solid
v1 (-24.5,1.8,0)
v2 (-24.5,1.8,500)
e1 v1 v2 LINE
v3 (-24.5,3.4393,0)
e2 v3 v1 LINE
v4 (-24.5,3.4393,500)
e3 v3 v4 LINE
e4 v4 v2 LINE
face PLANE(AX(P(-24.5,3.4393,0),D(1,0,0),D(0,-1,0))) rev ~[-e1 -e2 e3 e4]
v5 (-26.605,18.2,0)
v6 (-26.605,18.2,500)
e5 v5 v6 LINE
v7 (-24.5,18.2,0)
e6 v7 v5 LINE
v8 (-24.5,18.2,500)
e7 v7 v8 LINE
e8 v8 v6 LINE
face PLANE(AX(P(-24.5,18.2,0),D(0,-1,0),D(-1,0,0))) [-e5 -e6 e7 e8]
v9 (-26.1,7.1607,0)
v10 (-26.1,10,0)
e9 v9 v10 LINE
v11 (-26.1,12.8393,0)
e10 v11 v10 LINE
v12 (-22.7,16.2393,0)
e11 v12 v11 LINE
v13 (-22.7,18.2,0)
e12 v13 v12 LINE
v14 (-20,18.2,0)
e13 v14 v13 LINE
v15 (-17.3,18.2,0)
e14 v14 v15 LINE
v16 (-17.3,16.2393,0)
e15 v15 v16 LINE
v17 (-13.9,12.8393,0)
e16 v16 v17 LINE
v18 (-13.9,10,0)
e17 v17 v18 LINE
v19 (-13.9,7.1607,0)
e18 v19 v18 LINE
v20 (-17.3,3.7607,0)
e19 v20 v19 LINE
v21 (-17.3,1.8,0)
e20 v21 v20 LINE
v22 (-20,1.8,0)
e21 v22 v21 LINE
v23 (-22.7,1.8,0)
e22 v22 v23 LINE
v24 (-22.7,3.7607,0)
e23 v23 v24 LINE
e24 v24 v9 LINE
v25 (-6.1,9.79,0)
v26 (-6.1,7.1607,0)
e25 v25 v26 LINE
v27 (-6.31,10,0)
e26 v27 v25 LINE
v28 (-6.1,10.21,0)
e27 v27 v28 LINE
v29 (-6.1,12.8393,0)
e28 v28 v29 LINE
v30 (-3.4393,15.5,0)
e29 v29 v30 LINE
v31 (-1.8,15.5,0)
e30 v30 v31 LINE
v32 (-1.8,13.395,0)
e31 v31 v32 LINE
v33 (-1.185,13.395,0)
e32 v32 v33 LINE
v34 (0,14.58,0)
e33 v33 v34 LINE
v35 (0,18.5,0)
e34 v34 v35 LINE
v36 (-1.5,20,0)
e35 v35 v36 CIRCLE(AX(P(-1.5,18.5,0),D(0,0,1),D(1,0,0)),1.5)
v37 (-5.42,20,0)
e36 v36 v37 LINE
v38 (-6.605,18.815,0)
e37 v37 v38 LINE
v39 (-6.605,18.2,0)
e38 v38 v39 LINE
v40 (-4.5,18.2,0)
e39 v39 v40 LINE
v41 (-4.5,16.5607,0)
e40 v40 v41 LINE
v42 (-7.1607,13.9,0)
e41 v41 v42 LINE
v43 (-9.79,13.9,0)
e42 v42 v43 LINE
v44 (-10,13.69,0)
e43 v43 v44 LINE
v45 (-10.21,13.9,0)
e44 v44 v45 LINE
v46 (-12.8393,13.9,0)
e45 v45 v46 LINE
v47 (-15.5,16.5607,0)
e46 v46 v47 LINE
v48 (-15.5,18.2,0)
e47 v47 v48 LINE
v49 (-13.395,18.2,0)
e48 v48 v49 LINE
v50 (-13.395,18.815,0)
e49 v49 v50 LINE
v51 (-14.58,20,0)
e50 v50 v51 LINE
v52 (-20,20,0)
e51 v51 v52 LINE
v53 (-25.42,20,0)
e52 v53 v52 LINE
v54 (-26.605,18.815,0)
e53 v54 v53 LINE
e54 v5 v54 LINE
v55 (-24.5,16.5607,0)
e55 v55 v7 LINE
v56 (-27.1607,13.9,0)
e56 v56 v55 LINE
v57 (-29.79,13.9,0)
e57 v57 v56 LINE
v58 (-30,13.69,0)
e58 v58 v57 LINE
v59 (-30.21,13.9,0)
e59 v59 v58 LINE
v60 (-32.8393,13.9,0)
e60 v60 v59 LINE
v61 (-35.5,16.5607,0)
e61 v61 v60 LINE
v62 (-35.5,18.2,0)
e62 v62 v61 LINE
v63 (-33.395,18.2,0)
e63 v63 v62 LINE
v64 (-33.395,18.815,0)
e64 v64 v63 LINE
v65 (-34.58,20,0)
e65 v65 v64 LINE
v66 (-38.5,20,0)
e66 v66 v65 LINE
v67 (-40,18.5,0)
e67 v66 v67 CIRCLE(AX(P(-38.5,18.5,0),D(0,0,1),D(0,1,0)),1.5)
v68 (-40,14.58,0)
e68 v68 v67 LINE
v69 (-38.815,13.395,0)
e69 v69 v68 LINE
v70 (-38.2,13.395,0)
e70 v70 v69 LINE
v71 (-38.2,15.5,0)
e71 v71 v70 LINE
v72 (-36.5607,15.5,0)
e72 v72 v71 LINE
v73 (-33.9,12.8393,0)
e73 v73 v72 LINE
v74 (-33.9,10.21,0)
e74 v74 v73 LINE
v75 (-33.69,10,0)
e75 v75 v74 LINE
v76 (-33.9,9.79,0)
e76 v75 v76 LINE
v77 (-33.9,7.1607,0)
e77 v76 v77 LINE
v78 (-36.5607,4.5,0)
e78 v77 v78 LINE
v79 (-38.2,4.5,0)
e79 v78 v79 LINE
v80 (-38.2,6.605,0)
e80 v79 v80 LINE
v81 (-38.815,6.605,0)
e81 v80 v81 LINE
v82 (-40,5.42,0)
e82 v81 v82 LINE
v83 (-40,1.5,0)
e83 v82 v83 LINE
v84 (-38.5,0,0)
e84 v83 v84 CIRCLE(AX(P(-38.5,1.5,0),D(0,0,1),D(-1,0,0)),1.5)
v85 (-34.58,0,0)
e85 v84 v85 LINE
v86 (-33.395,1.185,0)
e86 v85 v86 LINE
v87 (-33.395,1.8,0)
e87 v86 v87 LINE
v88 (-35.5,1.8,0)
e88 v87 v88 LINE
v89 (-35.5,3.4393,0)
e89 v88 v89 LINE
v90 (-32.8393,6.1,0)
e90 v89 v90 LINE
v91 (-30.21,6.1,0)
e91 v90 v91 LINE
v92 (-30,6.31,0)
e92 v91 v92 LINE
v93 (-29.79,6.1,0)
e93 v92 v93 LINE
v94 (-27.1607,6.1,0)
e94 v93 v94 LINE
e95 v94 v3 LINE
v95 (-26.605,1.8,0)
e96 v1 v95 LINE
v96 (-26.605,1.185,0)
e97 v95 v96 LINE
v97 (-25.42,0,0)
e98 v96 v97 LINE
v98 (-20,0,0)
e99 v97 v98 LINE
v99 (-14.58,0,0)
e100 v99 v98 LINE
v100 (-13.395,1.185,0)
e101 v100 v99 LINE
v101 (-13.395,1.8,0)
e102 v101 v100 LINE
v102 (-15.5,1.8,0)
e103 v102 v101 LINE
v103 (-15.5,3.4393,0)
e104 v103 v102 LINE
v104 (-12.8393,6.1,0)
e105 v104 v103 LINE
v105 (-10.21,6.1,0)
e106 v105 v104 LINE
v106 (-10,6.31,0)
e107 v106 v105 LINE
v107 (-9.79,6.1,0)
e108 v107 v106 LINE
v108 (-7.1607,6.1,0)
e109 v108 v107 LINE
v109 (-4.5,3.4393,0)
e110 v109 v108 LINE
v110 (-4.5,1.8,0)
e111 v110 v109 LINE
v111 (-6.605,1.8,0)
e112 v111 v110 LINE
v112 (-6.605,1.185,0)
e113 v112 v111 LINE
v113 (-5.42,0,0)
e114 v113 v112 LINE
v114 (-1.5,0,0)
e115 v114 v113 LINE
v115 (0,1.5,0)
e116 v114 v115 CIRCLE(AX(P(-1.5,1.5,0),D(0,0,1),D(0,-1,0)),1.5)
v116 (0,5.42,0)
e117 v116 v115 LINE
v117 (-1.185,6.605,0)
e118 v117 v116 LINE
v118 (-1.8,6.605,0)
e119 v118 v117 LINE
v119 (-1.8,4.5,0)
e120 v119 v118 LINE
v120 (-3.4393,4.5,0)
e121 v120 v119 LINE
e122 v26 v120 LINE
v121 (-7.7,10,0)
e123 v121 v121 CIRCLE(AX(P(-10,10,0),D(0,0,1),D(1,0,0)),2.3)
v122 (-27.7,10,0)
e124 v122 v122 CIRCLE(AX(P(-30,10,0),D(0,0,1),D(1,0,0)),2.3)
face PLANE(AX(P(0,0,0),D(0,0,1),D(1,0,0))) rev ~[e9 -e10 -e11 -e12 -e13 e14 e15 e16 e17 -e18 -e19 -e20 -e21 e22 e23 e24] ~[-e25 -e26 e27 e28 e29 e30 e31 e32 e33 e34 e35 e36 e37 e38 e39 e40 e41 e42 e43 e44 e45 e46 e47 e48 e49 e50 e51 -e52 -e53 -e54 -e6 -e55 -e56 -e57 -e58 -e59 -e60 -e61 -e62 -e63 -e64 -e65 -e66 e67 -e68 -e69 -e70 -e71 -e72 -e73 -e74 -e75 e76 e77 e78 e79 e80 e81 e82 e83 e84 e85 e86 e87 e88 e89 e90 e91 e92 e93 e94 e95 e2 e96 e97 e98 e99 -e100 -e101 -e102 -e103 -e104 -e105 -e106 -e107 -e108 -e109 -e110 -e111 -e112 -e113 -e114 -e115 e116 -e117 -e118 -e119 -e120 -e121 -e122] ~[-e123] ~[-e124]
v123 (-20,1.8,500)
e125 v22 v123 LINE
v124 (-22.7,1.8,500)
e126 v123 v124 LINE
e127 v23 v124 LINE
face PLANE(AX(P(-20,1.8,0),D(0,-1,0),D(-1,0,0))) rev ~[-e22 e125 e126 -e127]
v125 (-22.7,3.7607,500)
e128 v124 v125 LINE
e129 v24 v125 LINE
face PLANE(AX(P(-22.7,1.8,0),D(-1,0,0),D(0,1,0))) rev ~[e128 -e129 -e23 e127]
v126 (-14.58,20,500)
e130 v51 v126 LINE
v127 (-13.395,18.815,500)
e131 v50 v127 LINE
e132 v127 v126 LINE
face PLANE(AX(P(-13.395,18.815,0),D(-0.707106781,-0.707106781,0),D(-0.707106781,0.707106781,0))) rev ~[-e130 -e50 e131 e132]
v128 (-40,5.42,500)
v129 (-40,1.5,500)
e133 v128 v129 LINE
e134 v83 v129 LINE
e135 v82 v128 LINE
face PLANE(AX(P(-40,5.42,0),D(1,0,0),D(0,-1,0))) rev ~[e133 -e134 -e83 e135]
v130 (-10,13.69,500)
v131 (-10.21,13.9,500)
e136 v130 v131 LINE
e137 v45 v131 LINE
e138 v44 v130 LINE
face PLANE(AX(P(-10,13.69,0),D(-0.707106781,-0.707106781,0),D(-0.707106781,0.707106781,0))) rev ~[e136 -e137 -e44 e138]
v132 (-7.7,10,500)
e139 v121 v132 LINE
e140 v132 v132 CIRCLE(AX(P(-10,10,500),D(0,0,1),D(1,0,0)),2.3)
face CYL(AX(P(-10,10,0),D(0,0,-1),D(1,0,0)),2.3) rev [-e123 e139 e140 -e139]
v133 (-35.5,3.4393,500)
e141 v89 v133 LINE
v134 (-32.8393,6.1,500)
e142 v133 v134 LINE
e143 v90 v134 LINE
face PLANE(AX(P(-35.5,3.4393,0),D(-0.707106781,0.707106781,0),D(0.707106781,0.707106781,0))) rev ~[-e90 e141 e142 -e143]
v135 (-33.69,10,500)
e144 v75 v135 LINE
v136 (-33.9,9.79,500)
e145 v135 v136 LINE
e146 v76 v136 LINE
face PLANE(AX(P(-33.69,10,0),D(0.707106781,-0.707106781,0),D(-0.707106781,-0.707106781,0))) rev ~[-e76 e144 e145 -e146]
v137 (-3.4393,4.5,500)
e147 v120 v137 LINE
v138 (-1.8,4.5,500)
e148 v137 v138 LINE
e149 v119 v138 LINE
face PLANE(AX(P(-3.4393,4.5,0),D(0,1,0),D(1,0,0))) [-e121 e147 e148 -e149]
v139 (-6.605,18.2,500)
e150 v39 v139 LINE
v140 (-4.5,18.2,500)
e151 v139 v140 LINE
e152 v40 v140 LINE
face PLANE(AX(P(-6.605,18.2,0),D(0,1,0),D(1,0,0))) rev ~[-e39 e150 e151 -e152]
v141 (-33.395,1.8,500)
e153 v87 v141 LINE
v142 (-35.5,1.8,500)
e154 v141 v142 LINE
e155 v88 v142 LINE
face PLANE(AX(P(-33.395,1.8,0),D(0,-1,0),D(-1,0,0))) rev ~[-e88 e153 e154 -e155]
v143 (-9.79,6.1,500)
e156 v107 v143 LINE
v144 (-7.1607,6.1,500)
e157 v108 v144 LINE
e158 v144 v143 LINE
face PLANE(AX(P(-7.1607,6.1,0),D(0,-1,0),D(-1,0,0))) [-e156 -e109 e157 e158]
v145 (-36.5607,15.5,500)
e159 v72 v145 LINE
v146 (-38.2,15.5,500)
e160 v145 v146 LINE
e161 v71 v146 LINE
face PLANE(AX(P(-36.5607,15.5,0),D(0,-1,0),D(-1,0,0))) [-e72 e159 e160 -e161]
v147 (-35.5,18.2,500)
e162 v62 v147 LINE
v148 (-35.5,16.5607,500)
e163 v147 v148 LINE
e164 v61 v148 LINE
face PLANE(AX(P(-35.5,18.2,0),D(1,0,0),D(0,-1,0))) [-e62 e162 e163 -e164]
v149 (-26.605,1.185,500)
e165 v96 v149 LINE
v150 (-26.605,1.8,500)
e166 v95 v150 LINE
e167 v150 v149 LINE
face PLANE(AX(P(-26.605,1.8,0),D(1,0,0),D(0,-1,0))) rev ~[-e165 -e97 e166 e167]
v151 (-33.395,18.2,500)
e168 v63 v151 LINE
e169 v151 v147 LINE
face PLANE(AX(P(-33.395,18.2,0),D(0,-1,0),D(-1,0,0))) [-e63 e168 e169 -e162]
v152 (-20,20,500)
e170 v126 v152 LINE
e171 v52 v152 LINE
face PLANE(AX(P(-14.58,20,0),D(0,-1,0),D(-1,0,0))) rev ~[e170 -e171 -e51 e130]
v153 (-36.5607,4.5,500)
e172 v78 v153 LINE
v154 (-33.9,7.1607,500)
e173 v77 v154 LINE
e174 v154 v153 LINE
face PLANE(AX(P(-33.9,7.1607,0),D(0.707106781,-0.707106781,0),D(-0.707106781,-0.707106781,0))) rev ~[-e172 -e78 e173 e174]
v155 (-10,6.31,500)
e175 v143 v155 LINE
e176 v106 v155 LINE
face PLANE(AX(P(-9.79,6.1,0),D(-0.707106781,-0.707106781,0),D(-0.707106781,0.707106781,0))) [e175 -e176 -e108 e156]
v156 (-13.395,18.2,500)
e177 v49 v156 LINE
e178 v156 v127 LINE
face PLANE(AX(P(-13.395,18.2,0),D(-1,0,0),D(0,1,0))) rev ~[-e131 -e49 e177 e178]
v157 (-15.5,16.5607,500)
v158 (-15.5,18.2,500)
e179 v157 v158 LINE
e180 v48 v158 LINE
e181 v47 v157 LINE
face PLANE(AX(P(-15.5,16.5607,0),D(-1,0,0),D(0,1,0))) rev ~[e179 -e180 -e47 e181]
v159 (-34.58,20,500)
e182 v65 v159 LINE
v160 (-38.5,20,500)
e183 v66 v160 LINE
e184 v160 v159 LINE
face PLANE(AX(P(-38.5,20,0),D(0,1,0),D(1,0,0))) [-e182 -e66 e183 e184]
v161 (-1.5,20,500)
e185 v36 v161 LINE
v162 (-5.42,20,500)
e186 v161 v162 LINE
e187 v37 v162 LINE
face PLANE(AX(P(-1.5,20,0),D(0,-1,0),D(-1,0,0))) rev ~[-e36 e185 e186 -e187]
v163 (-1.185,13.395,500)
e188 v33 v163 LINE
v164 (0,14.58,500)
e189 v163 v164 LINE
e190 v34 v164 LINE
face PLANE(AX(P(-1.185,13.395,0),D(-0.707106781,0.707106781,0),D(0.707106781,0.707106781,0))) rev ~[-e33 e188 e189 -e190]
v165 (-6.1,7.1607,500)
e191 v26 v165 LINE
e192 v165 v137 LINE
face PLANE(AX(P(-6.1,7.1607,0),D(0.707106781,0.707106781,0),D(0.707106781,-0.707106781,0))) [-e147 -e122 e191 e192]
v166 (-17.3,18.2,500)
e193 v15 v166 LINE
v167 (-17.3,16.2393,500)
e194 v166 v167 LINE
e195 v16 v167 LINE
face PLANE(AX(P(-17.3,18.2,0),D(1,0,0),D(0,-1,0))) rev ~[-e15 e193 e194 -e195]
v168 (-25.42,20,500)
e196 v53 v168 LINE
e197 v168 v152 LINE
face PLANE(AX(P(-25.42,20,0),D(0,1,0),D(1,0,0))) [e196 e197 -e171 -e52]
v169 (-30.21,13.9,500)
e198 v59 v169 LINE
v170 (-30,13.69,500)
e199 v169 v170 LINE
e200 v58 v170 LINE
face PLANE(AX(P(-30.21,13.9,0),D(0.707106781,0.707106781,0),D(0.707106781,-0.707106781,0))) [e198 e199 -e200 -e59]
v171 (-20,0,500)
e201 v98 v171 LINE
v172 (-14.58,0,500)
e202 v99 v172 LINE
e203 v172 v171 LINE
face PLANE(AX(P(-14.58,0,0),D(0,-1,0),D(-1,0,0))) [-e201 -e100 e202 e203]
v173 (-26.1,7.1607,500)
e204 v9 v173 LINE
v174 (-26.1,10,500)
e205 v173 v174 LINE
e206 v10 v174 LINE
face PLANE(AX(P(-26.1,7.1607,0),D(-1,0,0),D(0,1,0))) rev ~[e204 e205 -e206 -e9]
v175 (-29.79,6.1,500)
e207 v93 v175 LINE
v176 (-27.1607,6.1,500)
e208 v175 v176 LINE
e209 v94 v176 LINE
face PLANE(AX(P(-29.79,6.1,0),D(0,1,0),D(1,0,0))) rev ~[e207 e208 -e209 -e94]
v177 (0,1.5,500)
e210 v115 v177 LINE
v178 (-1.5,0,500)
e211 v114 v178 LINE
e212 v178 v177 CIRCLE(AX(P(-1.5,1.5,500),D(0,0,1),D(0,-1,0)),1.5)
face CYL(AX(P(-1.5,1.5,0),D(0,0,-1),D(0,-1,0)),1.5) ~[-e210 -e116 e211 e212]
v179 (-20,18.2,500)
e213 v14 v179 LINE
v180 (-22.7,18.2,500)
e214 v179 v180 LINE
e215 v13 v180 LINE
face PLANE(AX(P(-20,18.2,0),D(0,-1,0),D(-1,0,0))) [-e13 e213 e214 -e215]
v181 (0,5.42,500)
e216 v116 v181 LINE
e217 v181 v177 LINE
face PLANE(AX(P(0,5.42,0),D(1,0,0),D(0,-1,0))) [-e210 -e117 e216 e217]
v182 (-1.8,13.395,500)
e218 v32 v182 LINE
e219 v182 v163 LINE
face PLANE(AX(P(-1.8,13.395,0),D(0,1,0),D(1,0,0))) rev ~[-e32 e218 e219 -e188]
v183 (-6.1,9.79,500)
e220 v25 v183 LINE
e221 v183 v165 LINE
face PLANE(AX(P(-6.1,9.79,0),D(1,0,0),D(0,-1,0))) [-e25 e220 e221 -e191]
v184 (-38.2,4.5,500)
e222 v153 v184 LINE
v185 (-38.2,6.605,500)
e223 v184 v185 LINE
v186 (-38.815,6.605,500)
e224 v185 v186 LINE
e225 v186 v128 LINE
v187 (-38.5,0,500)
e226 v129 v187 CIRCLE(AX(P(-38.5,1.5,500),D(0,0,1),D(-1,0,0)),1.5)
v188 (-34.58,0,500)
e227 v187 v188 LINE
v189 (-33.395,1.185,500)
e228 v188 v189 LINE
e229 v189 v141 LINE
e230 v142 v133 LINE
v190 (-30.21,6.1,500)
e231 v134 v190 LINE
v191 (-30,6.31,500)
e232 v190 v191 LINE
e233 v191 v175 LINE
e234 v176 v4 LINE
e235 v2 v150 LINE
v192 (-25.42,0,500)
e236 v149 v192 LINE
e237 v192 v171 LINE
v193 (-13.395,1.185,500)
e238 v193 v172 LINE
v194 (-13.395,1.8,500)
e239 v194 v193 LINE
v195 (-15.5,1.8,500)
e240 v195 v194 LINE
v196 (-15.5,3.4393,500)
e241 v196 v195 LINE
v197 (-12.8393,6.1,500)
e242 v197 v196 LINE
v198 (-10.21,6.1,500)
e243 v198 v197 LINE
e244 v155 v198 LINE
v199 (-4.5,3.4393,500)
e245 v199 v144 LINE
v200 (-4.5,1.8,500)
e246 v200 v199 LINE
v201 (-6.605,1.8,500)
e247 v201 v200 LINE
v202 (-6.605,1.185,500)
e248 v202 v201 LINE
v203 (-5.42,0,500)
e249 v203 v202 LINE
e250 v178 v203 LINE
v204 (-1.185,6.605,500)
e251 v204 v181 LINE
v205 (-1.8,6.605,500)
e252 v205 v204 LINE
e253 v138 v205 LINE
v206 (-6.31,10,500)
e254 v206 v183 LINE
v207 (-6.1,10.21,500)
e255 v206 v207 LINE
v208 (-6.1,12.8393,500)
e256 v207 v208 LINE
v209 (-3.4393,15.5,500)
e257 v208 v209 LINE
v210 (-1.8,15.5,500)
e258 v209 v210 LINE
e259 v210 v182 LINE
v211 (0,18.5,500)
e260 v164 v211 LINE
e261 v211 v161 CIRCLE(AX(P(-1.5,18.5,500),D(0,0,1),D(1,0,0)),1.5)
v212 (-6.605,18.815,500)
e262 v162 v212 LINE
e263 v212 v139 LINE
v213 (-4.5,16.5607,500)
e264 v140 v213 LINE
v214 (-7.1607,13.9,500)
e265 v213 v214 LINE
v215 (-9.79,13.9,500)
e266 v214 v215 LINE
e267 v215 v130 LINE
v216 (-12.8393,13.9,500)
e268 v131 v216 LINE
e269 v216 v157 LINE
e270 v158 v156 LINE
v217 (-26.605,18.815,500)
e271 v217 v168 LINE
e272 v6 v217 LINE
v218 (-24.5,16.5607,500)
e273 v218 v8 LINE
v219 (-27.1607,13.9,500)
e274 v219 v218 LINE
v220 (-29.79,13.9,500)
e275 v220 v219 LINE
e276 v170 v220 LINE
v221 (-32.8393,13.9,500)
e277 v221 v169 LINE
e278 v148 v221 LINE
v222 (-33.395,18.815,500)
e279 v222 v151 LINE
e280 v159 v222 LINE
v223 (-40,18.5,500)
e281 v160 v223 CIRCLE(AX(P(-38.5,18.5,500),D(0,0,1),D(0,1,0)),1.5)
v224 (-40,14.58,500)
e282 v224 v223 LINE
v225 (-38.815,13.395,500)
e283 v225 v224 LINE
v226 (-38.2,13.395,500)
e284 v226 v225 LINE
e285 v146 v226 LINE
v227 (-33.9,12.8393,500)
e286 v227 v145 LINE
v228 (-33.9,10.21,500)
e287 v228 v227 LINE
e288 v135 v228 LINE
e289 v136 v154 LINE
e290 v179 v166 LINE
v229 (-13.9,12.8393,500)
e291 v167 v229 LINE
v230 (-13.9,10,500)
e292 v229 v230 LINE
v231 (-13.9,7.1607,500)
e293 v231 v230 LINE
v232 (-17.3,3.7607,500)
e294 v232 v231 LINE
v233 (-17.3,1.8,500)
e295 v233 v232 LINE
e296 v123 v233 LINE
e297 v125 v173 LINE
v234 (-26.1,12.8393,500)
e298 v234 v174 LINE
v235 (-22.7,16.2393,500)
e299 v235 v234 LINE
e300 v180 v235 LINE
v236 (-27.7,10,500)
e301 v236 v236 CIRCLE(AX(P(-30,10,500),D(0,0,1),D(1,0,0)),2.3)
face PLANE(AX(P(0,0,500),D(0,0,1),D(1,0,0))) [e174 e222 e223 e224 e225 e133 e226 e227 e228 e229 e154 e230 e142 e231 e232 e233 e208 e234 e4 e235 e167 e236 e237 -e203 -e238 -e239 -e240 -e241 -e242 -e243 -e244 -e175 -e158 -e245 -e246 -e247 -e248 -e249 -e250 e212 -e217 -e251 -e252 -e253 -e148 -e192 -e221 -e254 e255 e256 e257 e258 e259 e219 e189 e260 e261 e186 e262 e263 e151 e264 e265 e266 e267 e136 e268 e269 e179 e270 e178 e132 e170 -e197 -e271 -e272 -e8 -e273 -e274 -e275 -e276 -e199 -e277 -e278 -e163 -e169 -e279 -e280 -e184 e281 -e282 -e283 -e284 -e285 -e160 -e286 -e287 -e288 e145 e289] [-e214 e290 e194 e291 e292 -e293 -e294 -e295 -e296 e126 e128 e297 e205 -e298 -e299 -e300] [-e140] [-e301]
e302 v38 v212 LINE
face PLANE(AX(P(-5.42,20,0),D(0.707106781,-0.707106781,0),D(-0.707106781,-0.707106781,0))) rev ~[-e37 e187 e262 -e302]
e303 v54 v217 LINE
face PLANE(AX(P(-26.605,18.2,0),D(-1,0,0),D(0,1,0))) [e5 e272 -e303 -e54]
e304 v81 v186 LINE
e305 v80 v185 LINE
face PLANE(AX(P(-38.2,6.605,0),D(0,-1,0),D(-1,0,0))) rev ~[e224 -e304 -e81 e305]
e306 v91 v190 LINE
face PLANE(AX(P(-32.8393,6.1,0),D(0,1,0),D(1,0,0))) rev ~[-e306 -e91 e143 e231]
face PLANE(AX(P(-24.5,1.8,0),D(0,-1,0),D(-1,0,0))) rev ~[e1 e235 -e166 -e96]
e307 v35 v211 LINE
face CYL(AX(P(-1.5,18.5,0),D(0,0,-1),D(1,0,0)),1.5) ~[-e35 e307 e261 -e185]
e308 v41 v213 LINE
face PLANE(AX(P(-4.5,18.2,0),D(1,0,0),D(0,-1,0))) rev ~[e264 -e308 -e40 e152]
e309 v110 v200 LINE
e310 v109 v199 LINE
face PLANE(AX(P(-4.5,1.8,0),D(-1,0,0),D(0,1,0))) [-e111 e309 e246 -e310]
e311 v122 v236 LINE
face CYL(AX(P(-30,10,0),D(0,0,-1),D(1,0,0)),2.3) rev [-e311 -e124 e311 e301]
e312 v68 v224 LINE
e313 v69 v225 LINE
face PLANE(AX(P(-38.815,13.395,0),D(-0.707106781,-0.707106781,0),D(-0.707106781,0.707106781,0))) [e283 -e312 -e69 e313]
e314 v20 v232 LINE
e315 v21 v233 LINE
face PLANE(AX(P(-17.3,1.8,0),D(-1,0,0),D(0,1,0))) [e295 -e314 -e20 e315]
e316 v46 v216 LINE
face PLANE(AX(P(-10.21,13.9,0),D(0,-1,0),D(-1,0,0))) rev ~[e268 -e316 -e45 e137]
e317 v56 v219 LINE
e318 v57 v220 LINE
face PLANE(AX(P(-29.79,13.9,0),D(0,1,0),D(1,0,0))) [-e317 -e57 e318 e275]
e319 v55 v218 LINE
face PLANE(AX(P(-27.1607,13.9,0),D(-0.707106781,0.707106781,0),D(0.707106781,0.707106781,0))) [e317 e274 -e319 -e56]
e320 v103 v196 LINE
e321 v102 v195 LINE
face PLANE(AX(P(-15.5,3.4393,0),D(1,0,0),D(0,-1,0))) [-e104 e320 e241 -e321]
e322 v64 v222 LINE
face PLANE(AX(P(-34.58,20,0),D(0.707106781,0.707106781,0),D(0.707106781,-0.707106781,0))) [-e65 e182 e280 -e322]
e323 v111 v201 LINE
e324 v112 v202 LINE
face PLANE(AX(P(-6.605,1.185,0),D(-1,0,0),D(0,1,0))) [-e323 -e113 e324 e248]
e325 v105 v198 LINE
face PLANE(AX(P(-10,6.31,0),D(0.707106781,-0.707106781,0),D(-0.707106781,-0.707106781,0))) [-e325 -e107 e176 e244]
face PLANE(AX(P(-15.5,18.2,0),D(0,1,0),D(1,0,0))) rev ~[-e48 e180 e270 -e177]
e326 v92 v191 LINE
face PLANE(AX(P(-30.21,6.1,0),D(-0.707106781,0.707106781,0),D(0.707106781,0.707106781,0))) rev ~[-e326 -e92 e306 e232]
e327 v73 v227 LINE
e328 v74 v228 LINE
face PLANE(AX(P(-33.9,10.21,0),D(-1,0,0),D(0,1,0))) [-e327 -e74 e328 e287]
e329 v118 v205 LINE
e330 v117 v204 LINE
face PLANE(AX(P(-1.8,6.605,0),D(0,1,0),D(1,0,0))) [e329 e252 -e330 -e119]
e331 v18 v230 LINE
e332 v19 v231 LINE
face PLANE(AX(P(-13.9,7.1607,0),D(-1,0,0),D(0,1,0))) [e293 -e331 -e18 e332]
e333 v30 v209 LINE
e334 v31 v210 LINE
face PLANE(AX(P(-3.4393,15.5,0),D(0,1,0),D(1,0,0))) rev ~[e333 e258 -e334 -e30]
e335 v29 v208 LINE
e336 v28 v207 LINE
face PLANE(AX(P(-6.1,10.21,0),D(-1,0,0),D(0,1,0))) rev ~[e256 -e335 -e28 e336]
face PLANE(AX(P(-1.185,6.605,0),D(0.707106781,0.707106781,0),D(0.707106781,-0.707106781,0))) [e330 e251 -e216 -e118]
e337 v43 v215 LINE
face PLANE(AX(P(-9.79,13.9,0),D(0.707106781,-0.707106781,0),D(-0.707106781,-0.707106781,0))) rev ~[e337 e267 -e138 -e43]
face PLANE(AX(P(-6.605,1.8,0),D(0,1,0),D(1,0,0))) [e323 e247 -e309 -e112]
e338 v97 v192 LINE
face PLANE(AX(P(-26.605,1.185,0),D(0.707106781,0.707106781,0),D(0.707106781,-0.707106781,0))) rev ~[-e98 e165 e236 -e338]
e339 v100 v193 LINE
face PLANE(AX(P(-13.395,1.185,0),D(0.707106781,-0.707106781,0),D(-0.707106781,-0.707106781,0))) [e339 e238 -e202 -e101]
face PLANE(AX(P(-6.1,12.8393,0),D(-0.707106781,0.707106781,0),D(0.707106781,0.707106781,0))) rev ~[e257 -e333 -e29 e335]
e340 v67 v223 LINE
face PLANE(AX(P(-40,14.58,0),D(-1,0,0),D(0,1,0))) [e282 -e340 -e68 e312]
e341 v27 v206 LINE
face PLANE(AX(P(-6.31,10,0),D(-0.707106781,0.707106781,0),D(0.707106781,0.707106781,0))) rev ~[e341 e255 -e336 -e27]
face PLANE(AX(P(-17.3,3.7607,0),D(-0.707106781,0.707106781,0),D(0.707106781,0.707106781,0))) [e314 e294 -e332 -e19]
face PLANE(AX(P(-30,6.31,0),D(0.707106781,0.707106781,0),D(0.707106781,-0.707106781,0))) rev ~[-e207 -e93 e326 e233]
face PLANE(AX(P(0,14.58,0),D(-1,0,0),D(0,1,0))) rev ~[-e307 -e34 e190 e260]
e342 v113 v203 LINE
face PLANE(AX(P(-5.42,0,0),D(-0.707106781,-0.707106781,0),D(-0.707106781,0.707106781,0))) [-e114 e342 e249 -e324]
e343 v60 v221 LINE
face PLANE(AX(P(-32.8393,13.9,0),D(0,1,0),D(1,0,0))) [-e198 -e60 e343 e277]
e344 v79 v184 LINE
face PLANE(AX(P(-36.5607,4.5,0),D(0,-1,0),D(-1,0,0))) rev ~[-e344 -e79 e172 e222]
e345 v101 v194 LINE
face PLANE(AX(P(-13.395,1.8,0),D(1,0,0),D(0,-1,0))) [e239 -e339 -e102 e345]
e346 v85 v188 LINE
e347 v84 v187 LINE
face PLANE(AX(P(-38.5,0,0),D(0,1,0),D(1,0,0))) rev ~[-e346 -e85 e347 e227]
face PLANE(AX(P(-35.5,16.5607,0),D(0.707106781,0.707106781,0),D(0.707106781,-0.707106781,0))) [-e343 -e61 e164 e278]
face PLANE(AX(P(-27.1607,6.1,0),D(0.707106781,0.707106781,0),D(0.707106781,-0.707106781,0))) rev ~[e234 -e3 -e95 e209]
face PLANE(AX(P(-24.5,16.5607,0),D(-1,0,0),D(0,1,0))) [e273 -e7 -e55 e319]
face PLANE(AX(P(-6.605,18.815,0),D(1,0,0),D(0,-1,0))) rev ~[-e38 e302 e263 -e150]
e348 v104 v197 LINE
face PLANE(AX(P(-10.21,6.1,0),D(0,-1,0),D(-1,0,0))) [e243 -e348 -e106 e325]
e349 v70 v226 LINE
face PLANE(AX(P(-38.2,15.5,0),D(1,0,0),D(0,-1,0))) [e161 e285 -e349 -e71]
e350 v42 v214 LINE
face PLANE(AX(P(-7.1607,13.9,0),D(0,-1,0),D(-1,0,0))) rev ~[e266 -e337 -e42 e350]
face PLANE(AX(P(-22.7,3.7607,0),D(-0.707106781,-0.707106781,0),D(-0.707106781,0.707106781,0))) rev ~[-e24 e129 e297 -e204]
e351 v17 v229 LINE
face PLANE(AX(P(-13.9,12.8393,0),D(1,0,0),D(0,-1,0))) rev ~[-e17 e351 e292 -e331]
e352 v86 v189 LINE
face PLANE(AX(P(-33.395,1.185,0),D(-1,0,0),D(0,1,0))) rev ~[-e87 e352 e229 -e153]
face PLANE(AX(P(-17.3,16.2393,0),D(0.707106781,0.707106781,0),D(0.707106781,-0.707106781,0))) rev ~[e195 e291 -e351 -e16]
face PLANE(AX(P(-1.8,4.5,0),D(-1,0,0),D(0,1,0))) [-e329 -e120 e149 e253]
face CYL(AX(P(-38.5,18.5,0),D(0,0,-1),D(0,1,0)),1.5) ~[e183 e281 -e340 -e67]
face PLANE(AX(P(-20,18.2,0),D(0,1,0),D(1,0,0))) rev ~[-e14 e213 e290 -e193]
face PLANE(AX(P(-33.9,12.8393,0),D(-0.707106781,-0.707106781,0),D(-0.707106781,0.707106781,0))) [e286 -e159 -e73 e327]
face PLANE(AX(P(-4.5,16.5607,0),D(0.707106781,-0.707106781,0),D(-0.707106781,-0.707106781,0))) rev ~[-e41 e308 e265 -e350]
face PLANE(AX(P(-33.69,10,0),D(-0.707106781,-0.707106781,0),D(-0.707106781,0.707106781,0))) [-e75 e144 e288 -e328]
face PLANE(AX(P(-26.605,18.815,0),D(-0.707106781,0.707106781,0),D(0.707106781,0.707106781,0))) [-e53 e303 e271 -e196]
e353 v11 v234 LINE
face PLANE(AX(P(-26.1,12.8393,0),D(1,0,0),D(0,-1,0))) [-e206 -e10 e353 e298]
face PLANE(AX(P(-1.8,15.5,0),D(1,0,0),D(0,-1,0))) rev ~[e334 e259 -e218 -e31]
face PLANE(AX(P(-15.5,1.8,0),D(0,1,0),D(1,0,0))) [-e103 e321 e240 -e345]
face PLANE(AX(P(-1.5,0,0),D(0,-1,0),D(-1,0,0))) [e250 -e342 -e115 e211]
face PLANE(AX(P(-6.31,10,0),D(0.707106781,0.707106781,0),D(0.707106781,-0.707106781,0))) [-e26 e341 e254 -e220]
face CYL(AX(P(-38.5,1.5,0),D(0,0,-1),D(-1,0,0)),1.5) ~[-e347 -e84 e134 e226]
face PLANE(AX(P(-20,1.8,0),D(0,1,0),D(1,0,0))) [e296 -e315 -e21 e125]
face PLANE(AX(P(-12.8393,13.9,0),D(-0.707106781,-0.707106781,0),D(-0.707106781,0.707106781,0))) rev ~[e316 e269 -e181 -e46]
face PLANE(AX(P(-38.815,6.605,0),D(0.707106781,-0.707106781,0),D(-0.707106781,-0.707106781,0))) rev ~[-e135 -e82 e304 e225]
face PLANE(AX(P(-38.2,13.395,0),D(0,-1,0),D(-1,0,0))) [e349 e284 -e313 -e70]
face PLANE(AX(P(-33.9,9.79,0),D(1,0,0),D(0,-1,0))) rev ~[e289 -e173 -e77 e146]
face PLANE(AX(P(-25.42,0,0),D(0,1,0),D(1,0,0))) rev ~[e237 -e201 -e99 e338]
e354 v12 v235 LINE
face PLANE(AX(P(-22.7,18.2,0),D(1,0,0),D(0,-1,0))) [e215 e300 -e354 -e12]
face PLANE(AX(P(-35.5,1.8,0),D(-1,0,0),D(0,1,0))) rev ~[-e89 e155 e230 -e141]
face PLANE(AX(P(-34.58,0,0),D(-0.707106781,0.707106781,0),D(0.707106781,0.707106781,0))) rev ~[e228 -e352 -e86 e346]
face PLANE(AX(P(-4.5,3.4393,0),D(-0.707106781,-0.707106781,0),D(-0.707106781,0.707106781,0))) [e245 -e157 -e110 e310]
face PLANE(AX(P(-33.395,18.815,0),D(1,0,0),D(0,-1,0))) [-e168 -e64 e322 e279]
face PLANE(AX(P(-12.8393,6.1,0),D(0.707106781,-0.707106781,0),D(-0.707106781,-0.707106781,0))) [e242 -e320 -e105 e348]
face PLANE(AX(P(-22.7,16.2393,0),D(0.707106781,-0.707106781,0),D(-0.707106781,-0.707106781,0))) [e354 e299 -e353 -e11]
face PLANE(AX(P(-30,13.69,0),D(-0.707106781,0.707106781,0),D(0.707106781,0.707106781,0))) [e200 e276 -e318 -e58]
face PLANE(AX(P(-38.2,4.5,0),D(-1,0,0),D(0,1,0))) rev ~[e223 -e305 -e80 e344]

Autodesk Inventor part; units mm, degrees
ref_plane "YZ Plane" through (0, 0, 0) normal (1, 0, 0) x (0, 1, 0)
ref_plane "XZ Plane" through (0, 0, 0) normal (0, 1, 0) x (-1, 0, 0)
ref_plane "XY Plane" through (0, 0, 0) normal (0, 0, 1) x (1, 0, 0)
sketch "Sketch1" plane through (0, 0, 0) normal (0, 0, 1) x (1, 0, 0)
  line L0 (-33.69, 10) -> (-33.9, 10.21)
  line L1 (-33.9, 10.21) -> (-33.9, 12.8393)
  line L2 (-33.9, 12.8393) -> (-36.5607, 15.5)
  line L3 (-36.5607, 15.5) -> (-38.2, 15.5)
  line L4 (-38.2, 15.5) -> (-38.2, 13.395)
  line L5 (-38.2, 13.395) -> (-38.815, 13.395)
  line L6 (-38.815, 13.395) -> (-40, 14.58)
  line L7 (-40, 14.58) -> (-40, 18.5)
  arc A0 (-38.5, 20) -> (-40, 18.5) centre (-38.5, 18.5) ccw
  line L8 (-38.5, 20) -> (-34.58, 20)
  line L9 (-34.58, 20) -> (-33.395, 18.815)
  line L10 (-33.395, 18.815) -> (-33.395, 18.2)
  line L11 (-33.395, 18.2) -> (-35.5, 18.2)
  line L12 (-35.5, 18.2) -> (-35.5, 16.5607)
  line L13 (-35.5, 16.5607) -> (-32.8393, 13.9)
  line L14 (-32.8393, 13.9) -> (-30.21, 13.9)
  line L15 (-30.21, 13.9) -> (-30, 13.69)
  line L16 (-30, 13.69) -> (-29.79, 13.9)
  line L17 (-29.79, 13.9) -> (-27.1607, 13.9)
  line L18 (-27.1607, 13.9) -> (-24.5, 16.5607)
  line L19 (-24.5, 16.5607) -> (-24.5, 18.2)
  line L20 (-24.5, 18.2) -> (-26.605, 18.2)
  line L21 (-26.605, 18.2) -> (-26.605, 18.815)
  line L22 (-26.605, 18.815) -> (-25.42, 20)
  line L23 (-25.42, 20) -> (-20, 20)
  line L24 (-20, 18.2) -> (-22.7, 18.2)
  line L25 (-22.7, 18.2) -> (-22.7, 16.2393)
  line L26 (-22.7, 16.2393) -> (-26.1, 12.8393)
  line L27 (-26.1, 12.8393) -> (-26.1, 10)
  circle A1 centre (-30, 10) radius 2.3
  line L28 (-24.5, 1.8) -> (-26.605, 1.8)
  line L29 (-24.5, 3.4393) -> (-24.5, 1.8)
  line L30 (-22.7, 3.7607) -> (-26.1, 7.1607)
  line L31 (-22.7, 1.8) -> (-22.7, 3.7607)
  line L32 (-29.79, 6.1) -> (-27.1607, 6.1)
  line L33 (-30, 6.31) -> (-29.79, 6.1)
  line L34 (-30.21, 6.1) -> (-30, 6.31)
  line L35 (-32.8393, 6.1) -> (-30.21, 6.1)
  line L36 (-33.9, 9.79) -> (-33.9, 7.1607)
  line L37 (-33.69, 10) -> (-33.9, 9.79)
  line L38 (-26.1, 7.1607) -> (-26.1, 10)
  line L39 (-27.1607, 6.1) -> (-24.5, 3.4393)
  line L40 (-33.395, 1.185) -> (-33.395, 1.8)
  line L41 (-35.5, 3.4393) -> (-32.8393, 6.1)
  line L42 (-33.395, 1.8) -> (-35.5, 1.8)
  line L43 (-35.5, 1.8) -> (-35.5, 3.4393)
  line L44 (-34.58, 0) -> (-33.395, 1.185)
  line L45 (-33.9, 7.1607) -> (-36.5607, 4.5)
  line L46 (-36.5607, 4.5) -> (-38.2, 4.5)
  line L47 (-38.2, 4.5) -> (-38.2, 6.605)
  line L48 (-38.2, 6.605) -> (-38.815, 6.605)
  line L49 (-38.815, 6.605) -> (-40, 5.42)
  line L50 (-38.5, 0) -> (-34.58, 0)
  arc A2 (-40, 1.5) -> (-38.5, 0) centre (-38.5, 1.5) ccw
  line L51 (-40, 5.42) -> (-40, 1.5)
  line L52 (-26.605, 1.8) -> (-26.605, 1.185)
  line L53 (-20, 1.8) -> (-22.7, 1.8)
  line L54 (-25.42, 0) -> (-20, 0)
  line L55 (-26.605, 1.185) -> (-25.42, 0)
  line L56 (-15.5, 18.2) -> (-13.395, 18.2)
  line L57 (-15.5, 16.5607) -> (-15.5, 18.2)
  line L58 (-17.3, 16.2393) -> (-13.9, 12.8393)
  line L59 (-17.3, 18.2) -> (-17.3, 16.2393)
  line L60 (-10.21, 13.9) -> (-12.8393, 13.9)
  line L61 (-10, 13.69) -> (-10.21, 13.9)
  line L62 (-9.79, 13.9) -> (-10, 13.69)
  line L63 (-7.1607, 13.9) -> (-9.79, 13.9)
  line L64 (-6.1, 10.21) -> (-6.1, 12.8393)
  line L65 (-6.31, 10) -> (-6.1, 10.21)
  line L66 (-13.9, 12.8393) -> (-13.9, 10)
  circle A3 centre (-10, 10) radius 2.3
  line L67 (-12.8393, 13.9) -> (-15.5, 16.5607)
  line L68 (-6.605, 18.815) -> (-6.605, 18.2)
  line L69 (-4.5, 16.5607) -> (-7.1607, 13.9)
  line L70 (-6.605, 18.2) -> (-4.5, 18.2)
  line L71 (-4.5, 18.2) -> (-4.5, 16.5607)
  line L72 (-5.42, 20) -> (-6.605, 18.815)
  line L73 (-6.1, 12.8393) -> (-3.4393, 15.5)
  line L74 (-3.4393, 15.5) -> (-1.8, 15.5)
  line L75 (-1.8, 15.5) -> (-1.8, 13.395)
  line L76 (-1.8, 13.395) -> (-1.185, 13.395)
  line L77 (-1.185, 13.395) -> (0, 14.58)
  line L78 (-1.5, 20) -> (-5.42, 20)
  arc A4 (0, 18.5) -> (-1.5, 20) centre (-1.5, 18.5) ccw
  line L79 (0, 14.58) -> (0, 18.5)
  line L80 (-13.395, 18.2) -> (-13.395, 18.815)
  line L81 (-20, 18.2) -> (-17.3, 18.2)
  line L82 (-14.58, 20) -> (-20, 20)
  line L83 (-13.395, 18.815) -> (-14.58, 20)
  line L84 (-15.5, 1.8) -> (-13.395, 1.8)
  line L85 (-15.5, 3.4393) -> (-15.5, 1.8)
  line L86 (-17.3, 3.7607) -> (-13.9, 7.1607)
  line L87 (-17.3, 1.8) -> (-17.3, 3.7607)
  line L88 (-20, 1.8) -> (-17.3, 1.8)
  line L89 (-14.58, 0) -> (-20, 0)
  line L90 (-13.9, 7.1607) -> (-13.9, 10)
  line L91 (-10.21, 6.1) -> (-12.8393, 6.1)
  line L92 (-10, 6.31) -> (-10.21, 6.1)
  line L93 (-9.79, 6.1) -> (-10, 6.31)
  line L94 (-12.8393, 6.1) -> (-15.5, 3.4393)
  line L95 (-6.605, 1.185) -> (-6.605, 1.8)
  line L96 (-7.1607, 6.1) -> (-9.79, 6.1)
  line L97 (-6.1, 9.79) -> (-6.1, 7.1607)
  line L98 (-6.31, 10) -> (-6.1, 9.79)
  line L99 (-4.5, 3.4393) -> (-7.1607, 6.1)
  line L100 (-6.605, 1.8) -> (-4.5, 1.8)
  line L101 (-4.5, 1.8) -> (-4.5, 3.4393)
  line L102 (-5.42, 0) -> (-6.605, 1.185)
  line L103 (-13.395, 1.8) -> (-13.395, 1.185)
  line L104 (-6.1, 7.1607) -> (-3.4393, 4.5)
  line L105 (-3.4393, 4.5) -> (-1.8, 4.5)
  line L106 (-1.8, 4.5) -> (-1.8, 6.605)
  line L107 (-1.8, 6.605) -> (-1.185, 6.605)
  line L108 (-1.5, 0) -> (-5.42, 0)
  line L109 (-1.185, 6.605) -> (0, 5.42)
  line L110 (0, 5.42) -> (0, 1.5)
  arc A5 (-1.5, 0) -> (0, 1.5) centre (-1.5, 1.5) ccw
  line L111 (-13.395, 1.185) -> (-14.58, 0)
extrude "Extrusion5" add sketch "Sketch1" along normal blind 500
properties part number "Aluminium Profile 2040 500mm" material "Aluminum 6061"
